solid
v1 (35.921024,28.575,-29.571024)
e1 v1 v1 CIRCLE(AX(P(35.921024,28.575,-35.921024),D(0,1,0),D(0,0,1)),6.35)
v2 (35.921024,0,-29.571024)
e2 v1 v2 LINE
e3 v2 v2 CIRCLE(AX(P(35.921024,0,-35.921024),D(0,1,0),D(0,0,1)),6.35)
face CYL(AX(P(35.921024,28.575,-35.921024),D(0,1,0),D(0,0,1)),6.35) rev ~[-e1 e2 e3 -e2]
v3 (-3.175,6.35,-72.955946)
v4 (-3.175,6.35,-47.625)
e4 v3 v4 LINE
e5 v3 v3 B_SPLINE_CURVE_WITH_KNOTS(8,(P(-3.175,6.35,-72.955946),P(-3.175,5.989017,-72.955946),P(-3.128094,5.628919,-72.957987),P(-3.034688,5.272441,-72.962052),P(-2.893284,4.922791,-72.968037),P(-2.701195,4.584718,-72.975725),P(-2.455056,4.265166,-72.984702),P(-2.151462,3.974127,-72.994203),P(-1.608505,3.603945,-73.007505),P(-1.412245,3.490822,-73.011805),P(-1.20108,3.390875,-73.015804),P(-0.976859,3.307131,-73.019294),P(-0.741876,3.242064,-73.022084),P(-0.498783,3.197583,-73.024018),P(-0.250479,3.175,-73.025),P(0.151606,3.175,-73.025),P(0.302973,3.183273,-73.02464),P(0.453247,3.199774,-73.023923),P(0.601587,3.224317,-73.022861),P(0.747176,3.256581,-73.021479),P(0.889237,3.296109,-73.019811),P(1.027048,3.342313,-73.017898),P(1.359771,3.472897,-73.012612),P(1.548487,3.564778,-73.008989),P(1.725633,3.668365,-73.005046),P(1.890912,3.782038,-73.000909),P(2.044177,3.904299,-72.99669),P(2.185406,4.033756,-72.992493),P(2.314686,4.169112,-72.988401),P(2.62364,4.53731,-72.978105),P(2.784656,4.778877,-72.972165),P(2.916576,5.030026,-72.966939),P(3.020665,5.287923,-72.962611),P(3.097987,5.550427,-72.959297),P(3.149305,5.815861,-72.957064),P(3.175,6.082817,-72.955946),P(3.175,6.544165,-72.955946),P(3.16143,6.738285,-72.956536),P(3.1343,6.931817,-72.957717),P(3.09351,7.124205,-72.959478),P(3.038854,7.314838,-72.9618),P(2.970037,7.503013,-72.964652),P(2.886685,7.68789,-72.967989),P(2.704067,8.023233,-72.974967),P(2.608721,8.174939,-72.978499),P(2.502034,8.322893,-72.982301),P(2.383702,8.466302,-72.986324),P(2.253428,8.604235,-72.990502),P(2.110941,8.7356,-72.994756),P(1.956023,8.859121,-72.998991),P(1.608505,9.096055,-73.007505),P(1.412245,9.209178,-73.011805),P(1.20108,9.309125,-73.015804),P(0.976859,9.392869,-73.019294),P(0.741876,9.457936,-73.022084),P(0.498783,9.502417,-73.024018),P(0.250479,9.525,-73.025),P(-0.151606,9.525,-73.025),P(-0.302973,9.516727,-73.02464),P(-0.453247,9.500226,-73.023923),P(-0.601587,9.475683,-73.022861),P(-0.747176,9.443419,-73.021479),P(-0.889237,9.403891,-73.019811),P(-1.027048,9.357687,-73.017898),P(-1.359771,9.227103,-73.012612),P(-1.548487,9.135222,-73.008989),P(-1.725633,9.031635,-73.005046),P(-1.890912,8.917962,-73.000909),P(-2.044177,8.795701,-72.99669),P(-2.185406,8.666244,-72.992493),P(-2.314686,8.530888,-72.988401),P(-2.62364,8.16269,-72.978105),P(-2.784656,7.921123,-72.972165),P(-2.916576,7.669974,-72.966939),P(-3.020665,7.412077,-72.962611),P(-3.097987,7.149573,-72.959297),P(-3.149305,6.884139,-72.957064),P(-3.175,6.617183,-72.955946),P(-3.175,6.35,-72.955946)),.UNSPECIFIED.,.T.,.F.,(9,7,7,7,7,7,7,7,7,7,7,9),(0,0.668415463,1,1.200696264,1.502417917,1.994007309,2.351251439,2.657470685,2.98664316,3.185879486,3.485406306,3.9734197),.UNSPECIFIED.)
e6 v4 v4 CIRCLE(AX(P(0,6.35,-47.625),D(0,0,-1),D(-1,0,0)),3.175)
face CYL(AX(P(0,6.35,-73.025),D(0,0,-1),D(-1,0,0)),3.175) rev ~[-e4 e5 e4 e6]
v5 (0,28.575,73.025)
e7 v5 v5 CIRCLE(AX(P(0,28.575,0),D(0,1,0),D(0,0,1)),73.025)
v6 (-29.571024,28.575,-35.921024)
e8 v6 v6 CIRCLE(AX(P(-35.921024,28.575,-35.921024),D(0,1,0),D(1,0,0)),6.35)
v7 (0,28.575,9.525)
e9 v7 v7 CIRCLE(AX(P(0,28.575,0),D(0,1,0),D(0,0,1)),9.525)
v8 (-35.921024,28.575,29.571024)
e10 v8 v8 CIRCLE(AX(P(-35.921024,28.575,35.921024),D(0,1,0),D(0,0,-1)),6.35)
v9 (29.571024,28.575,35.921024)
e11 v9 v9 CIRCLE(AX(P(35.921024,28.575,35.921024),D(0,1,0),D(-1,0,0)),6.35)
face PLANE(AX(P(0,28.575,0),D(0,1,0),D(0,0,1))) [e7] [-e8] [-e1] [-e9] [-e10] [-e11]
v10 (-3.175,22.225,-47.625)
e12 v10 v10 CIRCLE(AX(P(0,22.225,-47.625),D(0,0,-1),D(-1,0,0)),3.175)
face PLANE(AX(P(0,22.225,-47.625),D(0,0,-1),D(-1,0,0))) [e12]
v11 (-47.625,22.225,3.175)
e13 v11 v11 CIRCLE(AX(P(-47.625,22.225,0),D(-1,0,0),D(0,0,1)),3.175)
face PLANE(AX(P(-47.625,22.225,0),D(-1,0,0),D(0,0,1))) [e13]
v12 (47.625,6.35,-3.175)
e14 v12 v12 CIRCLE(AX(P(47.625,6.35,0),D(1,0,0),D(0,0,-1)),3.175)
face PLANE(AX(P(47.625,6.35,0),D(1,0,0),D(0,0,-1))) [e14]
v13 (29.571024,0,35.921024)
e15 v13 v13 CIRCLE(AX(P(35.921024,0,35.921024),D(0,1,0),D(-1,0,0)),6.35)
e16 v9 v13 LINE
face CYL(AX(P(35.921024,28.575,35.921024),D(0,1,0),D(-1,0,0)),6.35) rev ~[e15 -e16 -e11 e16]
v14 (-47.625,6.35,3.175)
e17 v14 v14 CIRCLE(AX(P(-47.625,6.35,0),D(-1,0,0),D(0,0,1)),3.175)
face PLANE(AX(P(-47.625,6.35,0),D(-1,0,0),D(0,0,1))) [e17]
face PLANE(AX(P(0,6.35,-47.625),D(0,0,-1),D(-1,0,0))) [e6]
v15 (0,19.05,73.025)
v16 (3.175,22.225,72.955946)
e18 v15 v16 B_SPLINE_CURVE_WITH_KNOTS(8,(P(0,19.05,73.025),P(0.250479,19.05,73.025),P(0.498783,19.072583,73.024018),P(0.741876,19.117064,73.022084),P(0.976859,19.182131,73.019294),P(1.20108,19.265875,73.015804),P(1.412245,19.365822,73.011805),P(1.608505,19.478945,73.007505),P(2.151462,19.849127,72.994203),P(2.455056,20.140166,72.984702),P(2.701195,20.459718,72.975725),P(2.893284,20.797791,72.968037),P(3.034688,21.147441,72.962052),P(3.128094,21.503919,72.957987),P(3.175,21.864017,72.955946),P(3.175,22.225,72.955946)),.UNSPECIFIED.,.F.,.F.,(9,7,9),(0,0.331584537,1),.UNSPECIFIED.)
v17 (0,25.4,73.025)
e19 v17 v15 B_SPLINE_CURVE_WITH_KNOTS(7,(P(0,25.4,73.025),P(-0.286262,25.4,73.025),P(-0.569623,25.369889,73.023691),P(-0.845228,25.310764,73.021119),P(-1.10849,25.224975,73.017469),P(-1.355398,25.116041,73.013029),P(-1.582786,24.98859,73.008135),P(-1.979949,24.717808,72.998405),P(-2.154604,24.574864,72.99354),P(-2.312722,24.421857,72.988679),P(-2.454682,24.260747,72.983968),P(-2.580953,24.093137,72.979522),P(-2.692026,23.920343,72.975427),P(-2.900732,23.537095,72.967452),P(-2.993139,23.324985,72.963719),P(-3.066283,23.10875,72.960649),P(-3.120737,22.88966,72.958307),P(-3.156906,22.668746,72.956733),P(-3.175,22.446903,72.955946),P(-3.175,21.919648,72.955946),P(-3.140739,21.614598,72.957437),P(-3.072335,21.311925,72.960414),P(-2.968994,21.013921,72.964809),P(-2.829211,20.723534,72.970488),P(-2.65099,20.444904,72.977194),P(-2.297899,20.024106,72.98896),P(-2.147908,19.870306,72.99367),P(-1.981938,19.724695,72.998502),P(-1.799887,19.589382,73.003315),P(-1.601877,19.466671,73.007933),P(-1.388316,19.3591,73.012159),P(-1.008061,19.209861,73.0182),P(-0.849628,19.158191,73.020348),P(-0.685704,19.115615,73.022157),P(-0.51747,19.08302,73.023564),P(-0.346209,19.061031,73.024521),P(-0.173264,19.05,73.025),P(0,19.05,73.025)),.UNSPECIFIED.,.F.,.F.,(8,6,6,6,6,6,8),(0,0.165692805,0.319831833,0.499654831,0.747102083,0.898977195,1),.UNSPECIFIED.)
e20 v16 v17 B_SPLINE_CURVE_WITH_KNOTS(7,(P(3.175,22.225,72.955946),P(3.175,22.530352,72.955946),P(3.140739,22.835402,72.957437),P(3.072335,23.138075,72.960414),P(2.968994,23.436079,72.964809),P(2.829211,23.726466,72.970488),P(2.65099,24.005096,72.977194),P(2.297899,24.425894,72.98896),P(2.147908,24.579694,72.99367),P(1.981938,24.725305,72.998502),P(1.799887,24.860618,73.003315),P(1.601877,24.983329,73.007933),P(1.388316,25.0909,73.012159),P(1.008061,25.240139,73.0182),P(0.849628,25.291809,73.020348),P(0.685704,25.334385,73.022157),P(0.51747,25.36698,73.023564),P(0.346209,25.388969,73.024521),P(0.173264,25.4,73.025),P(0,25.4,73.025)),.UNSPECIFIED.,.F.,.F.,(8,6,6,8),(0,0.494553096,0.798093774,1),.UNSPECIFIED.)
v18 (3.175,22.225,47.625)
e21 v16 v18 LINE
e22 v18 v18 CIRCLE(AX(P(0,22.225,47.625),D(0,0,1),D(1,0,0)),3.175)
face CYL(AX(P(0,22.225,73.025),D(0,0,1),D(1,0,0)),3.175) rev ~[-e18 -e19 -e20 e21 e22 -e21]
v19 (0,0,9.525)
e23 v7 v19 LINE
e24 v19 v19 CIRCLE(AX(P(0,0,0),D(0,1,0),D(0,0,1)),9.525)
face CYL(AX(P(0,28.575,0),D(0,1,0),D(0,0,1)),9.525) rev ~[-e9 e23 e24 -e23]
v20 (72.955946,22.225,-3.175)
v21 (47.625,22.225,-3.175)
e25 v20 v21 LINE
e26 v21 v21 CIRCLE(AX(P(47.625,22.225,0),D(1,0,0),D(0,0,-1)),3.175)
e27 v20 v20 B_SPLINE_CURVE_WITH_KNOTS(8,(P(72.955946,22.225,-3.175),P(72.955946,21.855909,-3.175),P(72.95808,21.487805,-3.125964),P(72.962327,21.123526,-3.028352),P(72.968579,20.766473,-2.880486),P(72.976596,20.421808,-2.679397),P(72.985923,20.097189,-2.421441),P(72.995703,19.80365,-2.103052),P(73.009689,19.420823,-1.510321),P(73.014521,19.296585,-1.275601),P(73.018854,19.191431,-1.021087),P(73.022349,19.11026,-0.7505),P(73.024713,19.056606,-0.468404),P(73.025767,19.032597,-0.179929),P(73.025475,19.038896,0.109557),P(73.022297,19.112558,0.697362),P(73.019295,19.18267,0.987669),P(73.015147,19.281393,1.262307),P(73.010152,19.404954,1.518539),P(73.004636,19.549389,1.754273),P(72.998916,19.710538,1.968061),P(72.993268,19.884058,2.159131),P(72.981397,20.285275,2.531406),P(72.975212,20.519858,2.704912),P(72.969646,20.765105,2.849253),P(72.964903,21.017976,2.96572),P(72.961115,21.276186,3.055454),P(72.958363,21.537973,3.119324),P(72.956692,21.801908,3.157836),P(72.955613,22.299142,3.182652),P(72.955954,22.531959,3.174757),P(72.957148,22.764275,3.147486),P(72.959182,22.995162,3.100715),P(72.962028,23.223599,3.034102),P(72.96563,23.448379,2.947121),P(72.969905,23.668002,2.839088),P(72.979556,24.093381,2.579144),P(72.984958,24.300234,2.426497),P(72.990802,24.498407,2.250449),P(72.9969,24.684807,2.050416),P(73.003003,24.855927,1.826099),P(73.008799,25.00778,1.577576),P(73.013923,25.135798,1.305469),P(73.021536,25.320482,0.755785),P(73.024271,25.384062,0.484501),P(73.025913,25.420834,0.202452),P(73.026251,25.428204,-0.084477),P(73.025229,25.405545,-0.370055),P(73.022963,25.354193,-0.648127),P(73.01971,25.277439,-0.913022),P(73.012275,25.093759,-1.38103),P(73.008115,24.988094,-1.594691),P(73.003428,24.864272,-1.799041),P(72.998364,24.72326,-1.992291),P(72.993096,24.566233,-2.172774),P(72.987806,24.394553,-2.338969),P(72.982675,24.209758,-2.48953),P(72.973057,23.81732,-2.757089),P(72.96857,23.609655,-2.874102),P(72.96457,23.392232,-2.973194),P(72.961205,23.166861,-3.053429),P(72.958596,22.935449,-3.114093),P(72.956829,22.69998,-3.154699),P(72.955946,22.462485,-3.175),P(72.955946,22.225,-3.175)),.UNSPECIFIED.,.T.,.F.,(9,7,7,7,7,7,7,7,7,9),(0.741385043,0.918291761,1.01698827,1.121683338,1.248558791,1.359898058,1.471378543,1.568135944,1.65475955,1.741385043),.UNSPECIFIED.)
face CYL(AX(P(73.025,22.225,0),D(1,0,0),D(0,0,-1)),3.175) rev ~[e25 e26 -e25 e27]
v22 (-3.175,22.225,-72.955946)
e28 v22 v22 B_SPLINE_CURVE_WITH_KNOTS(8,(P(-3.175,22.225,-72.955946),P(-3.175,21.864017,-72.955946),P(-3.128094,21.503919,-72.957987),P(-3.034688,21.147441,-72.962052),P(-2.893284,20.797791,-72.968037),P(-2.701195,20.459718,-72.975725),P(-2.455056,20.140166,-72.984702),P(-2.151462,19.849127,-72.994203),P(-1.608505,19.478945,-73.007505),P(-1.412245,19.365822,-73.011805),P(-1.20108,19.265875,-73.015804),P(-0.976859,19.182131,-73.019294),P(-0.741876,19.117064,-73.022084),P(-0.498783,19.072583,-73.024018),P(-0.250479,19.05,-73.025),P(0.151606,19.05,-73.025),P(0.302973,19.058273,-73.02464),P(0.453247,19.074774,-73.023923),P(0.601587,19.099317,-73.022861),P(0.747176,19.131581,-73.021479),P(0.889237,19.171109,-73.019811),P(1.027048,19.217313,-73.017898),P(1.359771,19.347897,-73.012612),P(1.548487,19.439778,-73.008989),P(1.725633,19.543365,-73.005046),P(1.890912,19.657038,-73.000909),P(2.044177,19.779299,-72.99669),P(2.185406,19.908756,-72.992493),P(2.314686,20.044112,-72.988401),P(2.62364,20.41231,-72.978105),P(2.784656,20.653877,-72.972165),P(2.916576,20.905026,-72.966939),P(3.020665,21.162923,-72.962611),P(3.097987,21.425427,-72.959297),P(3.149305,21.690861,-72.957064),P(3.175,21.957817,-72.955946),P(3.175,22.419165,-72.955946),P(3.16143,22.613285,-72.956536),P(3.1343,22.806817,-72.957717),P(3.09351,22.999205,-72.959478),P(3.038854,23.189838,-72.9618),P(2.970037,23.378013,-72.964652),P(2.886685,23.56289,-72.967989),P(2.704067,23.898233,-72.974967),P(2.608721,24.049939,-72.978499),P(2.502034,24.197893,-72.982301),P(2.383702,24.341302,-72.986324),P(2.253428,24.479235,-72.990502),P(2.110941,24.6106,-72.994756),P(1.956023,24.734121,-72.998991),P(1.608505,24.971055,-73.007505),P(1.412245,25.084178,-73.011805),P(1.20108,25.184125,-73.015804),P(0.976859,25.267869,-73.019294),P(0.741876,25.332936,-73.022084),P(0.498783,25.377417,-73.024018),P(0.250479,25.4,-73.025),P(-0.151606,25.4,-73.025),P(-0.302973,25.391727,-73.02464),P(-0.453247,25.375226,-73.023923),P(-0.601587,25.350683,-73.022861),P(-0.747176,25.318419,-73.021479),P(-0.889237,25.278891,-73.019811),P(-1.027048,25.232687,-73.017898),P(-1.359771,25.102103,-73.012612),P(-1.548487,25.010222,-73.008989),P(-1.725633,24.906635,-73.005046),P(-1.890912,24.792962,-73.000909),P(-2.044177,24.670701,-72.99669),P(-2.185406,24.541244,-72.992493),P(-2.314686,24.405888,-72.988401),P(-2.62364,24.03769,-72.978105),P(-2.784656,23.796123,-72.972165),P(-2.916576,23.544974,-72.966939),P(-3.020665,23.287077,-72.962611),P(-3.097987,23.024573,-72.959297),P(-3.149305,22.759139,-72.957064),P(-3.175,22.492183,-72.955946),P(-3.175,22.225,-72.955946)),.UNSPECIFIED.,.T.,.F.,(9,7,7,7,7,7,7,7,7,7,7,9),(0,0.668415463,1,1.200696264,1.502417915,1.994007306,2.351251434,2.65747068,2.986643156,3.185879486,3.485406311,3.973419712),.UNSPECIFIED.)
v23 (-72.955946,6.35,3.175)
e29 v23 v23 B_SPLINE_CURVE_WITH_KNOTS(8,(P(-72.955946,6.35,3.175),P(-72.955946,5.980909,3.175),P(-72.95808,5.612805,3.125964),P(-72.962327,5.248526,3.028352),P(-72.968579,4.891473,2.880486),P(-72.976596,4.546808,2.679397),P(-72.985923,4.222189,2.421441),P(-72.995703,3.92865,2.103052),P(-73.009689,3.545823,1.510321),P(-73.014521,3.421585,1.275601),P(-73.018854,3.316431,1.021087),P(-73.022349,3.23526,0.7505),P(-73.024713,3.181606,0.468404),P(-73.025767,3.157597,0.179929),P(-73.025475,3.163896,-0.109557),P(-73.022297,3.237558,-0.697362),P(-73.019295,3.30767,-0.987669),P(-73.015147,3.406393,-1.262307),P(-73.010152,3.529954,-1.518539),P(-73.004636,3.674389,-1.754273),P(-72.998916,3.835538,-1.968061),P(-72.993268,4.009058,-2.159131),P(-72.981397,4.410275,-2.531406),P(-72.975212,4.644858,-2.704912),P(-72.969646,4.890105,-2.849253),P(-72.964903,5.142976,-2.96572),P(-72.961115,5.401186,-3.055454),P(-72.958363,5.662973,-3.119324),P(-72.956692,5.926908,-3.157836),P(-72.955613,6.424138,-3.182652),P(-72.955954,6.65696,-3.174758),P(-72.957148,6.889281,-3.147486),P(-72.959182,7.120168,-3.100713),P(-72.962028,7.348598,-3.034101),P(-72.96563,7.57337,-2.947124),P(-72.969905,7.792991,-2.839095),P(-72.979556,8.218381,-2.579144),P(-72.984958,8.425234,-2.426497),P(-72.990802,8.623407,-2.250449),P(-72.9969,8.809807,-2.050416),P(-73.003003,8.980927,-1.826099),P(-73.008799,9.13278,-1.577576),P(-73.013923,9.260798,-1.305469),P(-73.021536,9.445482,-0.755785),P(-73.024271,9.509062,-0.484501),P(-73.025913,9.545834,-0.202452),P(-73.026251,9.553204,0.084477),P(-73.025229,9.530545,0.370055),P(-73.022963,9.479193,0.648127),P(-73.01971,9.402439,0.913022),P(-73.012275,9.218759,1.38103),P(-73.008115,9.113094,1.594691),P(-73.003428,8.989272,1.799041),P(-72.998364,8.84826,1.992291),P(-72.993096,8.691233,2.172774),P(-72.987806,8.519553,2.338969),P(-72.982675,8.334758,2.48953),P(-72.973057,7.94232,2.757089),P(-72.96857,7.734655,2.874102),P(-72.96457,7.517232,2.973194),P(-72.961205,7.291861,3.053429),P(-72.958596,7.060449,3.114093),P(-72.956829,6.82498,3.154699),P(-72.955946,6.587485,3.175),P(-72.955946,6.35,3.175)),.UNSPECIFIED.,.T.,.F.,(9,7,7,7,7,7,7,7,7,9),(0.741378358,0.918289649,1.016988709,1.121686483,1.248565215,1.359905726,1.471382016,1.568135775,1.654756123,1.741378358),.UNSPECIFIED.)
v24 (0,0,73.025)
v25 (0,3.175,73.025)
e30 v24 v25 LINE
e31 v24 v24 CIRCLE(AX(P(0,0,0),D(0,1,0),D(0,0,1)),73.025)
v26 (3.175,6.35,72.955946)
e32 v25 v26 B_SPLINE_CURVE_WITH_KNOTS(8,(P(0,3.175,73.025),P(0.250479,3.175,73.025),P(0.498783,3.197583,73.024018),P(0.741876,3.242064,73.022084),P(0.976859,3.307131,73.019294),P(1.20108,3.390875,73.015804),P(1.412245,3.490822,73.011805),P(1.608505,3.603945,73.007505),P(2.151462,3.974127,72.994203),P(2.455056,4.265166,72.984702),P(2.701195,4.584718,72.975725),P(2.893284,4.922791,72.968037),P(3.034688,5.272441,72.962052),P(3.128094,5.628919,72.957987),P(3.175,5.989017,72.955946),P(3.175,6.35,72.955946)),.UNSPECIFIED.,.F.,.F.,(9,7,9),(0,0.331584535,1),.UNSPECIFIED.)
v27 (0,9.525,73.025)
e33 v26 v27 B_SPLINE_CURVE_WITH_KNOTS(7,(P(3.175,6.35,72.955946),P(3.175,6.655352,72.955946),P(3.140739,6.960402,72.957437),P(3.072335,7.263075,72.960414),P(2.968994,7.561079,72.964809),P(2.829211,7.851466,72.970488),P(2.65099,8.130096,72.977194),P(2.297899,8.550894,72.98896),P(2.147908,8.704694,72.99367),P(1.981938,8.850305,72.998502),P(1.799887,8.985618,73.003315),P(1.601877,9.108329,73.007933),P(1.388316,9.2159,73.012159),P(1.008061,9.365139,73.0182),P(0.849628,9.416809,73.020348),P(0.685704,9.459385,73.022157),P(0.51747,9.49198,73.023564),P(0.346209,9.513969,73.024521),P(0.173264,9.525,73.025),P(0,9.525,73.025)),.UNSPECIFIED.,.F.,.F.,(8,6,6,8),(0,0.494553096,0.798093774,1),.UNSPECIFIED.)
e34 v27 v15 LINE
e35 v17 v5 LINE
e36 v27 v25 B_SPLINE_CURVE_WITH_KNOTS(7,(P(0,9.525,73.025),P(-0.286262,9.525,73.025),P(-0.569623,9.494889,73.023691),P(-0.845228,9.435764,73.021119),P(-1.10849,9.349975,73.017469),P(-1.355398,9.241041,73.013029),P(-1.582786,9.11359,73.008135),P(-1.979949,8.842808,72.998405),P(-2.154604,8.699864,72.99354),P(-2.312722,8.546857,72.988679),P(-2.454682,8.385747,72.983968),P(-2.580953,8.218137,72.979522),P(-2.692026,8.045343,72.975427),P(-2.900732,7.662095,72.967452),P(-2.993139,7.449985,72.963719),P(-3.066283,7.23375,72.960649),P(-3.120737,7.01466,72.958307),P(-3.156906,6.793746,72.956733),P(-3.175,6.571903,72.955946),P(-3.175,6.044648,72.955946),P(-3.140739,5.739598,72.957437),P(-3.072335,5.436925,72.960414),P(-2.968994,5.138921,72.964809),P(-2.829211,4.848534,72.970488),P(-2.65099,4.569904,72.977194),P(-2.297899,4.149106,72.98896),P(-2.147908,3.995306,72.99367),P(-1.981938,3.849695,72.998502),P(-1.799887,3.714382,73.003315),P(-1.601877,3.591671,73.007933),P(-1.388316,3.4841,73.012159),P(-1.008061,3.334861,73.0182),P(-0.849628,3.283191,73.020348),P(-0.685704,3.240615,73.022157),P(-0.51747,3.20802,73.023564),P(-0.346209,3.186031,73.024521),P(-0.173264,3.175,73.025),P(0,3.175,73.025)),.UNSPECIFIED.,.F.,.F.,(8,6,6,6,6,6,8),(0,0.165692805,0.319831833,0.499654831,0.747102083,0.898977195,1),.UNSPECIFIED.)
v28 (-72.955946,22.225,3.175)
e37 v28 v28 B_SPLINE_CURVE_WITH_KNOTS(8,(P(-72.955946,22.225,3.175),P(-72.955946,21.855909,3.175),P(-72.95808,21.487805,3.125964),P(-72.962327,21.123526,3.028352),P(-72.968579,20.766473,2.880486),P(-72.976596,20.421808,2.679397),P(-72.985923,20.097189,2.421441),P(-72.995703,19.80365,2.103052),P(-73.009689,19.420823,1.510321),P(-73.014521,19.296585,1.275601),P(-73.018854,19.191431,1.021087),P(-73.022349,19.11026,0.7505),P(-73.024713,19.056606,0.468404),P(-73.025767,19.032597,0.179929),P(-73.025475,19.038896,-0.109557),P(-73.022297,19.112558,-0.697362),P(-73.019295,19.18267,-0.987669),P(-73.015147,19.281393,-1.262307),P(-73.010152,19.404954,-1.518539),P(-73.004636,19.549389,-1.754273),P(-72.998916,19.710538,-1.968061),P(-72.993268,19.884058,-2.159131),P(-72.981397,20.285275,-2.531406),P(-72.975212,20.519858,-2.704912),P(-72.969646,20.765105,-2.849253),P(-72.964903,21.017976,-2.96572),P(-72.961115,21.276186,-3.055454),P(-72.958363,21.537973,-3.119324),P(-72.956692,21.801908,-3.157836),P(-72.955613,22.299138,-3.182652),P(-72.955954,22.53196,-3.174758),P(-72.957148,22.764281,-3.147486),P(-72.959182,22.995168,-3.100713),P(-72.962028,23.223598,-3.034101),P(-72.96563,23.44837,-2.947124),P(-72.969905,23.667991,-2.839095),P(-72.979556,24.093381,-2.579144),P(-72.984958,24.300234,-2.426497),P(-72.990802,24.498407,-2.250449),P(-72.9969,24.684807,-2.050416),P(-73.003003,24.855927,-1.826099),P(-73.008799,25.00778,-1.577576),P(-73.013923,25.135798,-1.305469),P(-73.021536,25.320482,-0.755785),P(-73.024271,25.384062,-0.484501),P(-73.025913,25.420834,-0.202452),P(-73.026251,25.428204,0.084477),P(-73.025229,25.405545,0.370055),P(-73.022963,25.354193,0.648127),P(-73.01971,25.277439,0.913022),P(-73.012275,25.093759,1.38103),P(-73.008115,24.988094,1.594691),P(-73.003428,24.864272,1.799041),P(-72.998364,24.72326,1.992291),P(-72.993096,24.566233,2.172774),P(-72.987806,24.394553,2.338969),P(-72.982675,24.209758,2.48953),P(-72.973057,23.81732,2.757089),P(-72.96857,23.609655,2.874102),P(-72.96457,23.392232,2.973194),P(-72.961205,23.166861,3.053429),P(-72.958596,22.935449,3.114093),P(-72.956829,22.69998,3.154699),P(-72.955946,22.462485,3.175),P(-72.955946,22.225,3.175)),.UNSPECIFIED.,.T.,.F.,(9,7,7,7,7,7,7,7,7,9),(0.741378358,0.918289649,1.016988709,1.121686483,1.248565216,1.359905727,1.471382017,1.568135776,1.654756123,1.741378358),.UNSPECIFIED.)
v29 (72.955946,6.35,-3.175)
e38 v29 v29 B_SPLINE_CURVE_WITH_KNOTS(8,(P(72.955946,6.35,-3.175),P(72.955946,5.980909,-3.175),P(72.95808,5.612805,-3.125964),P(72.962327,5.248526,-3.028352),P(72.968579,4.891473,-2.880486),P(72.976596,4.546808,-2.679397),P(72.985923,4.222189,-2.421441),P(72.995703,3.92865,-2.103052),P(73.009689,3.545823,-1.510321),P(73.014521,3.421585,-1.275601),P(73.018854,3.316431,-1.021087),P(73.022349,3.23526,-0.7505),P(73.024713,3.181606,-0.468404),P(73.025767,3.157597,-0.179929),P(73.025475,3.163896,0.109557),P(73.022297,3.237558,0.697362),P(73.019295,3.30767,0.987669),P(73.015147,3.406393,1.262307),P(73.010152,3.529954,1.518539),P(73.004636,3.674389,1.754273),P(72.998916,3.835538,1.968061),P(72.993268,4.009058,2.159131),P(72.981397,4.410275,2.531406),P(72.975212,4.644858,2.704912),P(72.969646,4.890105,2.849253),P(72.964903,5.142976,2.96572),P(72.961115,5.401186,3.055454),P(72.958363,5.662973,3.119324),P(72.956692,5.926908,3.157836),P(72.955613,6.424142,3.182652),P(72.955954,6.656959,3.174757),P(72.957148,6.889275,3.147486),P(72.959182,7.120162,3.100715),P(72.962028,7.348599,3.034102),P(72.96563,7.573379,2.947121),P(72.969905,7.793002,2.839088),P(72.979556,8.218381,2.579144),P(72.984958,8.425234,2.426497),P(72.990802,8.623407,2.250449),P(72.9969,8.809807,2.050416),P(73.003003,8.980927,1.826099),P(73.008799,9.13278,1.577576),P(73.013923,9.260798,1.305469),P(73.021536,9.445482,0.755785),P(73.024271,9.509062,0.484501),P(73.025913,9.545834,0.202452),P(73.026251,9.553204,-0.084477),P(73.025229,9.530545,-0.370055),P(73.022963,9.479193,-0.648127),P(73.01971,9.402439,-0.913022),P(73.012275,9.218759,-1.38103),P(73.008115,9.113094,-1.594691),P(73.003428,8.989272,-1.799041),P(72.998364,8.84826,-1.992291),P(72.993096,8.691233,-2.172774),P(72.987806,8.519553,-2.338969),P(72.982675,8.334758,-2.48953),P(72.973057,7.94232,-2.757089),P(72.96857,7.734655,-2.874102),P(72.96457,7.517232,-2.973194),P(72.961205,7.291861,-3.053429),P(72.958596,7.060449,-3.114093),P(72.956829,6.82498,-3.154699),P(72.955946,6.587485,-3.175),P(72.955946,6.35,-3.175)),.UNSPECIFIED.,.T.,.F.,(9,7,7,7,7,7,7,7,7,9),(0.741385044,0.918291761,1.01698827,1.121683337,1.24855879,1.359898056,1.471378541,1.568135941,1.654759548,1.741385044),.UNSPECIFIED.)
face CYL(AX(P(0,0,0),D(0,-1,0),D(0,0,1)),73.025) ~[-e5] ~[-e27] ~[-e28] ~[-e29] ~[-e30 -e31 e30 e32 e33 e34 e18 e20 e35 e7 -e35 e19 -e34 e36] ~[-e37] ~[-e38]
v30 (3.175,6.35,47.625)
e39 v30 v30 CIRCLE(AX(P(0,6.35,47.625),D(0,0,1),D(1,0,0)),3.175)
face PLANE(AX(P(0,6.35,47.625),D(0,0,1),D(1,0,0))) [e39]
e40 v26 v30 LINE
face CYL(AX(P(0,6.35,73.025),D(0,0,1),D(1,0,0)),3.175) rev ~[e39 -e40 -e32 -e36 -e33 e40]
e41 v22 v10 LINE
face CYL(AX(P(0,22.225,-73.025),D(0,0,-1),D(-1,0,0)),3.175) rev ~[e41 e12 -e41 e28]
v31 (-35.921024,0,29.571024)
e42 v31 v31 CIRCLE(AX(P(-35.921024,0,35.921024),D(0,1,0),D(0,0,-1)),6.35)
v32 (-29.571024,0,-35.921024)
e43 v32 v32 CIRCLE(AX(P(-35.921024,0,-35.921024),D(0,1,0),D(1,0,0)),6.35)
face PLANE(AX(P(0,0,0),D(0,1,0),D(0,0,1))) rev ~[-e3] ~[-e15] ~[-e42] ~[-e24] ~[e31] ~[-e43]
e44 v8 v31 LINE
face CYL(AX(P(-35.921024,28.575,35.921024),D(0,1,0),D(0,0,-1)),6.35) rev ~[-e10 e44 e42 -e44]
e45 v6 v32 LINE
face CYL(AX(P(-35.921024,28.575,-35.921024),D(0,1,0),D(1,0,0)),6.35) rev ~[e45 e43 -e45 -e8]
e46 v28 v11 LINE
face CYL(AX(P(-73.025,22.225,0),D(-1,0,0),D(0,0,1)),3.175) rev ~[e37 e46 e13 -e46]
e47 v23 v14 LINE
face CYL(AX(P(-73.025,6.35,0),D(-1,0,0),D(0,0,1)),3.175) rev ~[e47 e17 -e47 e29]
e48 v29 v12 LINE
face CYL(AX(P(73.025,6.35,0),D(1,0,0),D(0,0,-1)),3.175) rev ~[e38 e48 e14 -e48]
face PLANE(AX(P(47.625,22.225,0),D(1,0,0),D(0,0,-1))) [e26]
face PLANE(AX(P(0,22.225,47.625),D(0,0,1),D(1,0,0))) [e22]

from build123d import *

# Parameters (mm, degrees)
SKETCH1_R           = 73.025
BOSS_EXTRUDE1_DEPTH = 28.575
SKETCH2_R           = 9.525
CUT_EXTRUDE1_DEPTH  = 108.153310145
SKETCH30_R          = 3.175
CUT_EXTRUDE2_DEPTH  = 25.4
CIRPATTERN3_COUNT   = 4
SKETCH31_R          = 6.35
CUT_EXTRUDE3_DEPTH  = 108.153310308
CIRPATTERN4_COUNT   = 4


with BuildPart() as part:
    # Sketch1 → Boss-Extrude1 (new body)
    with BuildSketch(Plane(origin=(0, 0, 0), x_dir=(1, 0, 0), z_dir=(0, 1, 0))):
        with Locations(Location((0, 0, 0), (0, 0, 270))):
            Circle(SKETCH1_R)
    extrude(amount=BOSS_EXTRUDE1_DEPTH)

    # Sketch2 → Cut-Extrude1 (cut, through all)
    with BuildSketch(Plane(origin=(0, 28.575, 0), x_dir=(1, 0, 0), z_dir=(0, 1, 0))):
        with Locations(Location((0, 0, 0), (0, 0, 270))):
            Circle(SKETCH2_R)
    extrude(amount=-CUT_EXTRUDE1_DEPTH, mode=Mode.SUBTRACT)

    # Sketch30 → Cut-Extrude2 (cut)
    with BuildSketch(Plane.XY.offset(73.025)):
        with Locations((0, 22.225)):
            Circle(SKETCH30_R)
        with Locations((0, 6.35)):
            Circle(SKETCH30_R)
    cut_extrude2 = extrude(amount=-CUT_EXTRUDE2_DEPTH, mode=Mode.SUBTRACT)

    # CirPattern3: Cut-Extrude2 ×4 about axis
    cirpattern3_axis = Axis((0, 0, 0), (0, 1, 0))
    for i in range(1, CIRPATTERN3_COUNT):
        add(cut_extrude2.rotate(cirpattern3_axis, i * 360 / CIRPATTERN3_COUNT), mode=Mode.SUBTRACT)

    # Sketch31 → Cut-Extrude3 (cut, through all)
    with BuildSketch(Plane(origin=(0, 28.575, 0), x_dir=(1, 0, 0), z_dir=(0, 1, 0))):
        with Locations(Location((35.921024484, 35.921024484, 0), (0, 0, 270))):
            Circle(SKETCH31_R)
    cut_extrude3 = extrude(amount=-CUT_EXTRUDE3_DEPTH, mode=Mode.SUBTRACT)

    # CirPattern4: Cut-Extrude3 ×4 about axis
    cirpattern4_axis = Axis((0, 0, 0), (0, 1, 0))
    for i in range(1, CIRPATTERN4_COUNT):
        add(cut_extrude3.rotate(cirpattern4_axis, i * 360 / CIRPATTERN4_COUNT), mode=Mode.SUBTRACT)


solid = part.part
